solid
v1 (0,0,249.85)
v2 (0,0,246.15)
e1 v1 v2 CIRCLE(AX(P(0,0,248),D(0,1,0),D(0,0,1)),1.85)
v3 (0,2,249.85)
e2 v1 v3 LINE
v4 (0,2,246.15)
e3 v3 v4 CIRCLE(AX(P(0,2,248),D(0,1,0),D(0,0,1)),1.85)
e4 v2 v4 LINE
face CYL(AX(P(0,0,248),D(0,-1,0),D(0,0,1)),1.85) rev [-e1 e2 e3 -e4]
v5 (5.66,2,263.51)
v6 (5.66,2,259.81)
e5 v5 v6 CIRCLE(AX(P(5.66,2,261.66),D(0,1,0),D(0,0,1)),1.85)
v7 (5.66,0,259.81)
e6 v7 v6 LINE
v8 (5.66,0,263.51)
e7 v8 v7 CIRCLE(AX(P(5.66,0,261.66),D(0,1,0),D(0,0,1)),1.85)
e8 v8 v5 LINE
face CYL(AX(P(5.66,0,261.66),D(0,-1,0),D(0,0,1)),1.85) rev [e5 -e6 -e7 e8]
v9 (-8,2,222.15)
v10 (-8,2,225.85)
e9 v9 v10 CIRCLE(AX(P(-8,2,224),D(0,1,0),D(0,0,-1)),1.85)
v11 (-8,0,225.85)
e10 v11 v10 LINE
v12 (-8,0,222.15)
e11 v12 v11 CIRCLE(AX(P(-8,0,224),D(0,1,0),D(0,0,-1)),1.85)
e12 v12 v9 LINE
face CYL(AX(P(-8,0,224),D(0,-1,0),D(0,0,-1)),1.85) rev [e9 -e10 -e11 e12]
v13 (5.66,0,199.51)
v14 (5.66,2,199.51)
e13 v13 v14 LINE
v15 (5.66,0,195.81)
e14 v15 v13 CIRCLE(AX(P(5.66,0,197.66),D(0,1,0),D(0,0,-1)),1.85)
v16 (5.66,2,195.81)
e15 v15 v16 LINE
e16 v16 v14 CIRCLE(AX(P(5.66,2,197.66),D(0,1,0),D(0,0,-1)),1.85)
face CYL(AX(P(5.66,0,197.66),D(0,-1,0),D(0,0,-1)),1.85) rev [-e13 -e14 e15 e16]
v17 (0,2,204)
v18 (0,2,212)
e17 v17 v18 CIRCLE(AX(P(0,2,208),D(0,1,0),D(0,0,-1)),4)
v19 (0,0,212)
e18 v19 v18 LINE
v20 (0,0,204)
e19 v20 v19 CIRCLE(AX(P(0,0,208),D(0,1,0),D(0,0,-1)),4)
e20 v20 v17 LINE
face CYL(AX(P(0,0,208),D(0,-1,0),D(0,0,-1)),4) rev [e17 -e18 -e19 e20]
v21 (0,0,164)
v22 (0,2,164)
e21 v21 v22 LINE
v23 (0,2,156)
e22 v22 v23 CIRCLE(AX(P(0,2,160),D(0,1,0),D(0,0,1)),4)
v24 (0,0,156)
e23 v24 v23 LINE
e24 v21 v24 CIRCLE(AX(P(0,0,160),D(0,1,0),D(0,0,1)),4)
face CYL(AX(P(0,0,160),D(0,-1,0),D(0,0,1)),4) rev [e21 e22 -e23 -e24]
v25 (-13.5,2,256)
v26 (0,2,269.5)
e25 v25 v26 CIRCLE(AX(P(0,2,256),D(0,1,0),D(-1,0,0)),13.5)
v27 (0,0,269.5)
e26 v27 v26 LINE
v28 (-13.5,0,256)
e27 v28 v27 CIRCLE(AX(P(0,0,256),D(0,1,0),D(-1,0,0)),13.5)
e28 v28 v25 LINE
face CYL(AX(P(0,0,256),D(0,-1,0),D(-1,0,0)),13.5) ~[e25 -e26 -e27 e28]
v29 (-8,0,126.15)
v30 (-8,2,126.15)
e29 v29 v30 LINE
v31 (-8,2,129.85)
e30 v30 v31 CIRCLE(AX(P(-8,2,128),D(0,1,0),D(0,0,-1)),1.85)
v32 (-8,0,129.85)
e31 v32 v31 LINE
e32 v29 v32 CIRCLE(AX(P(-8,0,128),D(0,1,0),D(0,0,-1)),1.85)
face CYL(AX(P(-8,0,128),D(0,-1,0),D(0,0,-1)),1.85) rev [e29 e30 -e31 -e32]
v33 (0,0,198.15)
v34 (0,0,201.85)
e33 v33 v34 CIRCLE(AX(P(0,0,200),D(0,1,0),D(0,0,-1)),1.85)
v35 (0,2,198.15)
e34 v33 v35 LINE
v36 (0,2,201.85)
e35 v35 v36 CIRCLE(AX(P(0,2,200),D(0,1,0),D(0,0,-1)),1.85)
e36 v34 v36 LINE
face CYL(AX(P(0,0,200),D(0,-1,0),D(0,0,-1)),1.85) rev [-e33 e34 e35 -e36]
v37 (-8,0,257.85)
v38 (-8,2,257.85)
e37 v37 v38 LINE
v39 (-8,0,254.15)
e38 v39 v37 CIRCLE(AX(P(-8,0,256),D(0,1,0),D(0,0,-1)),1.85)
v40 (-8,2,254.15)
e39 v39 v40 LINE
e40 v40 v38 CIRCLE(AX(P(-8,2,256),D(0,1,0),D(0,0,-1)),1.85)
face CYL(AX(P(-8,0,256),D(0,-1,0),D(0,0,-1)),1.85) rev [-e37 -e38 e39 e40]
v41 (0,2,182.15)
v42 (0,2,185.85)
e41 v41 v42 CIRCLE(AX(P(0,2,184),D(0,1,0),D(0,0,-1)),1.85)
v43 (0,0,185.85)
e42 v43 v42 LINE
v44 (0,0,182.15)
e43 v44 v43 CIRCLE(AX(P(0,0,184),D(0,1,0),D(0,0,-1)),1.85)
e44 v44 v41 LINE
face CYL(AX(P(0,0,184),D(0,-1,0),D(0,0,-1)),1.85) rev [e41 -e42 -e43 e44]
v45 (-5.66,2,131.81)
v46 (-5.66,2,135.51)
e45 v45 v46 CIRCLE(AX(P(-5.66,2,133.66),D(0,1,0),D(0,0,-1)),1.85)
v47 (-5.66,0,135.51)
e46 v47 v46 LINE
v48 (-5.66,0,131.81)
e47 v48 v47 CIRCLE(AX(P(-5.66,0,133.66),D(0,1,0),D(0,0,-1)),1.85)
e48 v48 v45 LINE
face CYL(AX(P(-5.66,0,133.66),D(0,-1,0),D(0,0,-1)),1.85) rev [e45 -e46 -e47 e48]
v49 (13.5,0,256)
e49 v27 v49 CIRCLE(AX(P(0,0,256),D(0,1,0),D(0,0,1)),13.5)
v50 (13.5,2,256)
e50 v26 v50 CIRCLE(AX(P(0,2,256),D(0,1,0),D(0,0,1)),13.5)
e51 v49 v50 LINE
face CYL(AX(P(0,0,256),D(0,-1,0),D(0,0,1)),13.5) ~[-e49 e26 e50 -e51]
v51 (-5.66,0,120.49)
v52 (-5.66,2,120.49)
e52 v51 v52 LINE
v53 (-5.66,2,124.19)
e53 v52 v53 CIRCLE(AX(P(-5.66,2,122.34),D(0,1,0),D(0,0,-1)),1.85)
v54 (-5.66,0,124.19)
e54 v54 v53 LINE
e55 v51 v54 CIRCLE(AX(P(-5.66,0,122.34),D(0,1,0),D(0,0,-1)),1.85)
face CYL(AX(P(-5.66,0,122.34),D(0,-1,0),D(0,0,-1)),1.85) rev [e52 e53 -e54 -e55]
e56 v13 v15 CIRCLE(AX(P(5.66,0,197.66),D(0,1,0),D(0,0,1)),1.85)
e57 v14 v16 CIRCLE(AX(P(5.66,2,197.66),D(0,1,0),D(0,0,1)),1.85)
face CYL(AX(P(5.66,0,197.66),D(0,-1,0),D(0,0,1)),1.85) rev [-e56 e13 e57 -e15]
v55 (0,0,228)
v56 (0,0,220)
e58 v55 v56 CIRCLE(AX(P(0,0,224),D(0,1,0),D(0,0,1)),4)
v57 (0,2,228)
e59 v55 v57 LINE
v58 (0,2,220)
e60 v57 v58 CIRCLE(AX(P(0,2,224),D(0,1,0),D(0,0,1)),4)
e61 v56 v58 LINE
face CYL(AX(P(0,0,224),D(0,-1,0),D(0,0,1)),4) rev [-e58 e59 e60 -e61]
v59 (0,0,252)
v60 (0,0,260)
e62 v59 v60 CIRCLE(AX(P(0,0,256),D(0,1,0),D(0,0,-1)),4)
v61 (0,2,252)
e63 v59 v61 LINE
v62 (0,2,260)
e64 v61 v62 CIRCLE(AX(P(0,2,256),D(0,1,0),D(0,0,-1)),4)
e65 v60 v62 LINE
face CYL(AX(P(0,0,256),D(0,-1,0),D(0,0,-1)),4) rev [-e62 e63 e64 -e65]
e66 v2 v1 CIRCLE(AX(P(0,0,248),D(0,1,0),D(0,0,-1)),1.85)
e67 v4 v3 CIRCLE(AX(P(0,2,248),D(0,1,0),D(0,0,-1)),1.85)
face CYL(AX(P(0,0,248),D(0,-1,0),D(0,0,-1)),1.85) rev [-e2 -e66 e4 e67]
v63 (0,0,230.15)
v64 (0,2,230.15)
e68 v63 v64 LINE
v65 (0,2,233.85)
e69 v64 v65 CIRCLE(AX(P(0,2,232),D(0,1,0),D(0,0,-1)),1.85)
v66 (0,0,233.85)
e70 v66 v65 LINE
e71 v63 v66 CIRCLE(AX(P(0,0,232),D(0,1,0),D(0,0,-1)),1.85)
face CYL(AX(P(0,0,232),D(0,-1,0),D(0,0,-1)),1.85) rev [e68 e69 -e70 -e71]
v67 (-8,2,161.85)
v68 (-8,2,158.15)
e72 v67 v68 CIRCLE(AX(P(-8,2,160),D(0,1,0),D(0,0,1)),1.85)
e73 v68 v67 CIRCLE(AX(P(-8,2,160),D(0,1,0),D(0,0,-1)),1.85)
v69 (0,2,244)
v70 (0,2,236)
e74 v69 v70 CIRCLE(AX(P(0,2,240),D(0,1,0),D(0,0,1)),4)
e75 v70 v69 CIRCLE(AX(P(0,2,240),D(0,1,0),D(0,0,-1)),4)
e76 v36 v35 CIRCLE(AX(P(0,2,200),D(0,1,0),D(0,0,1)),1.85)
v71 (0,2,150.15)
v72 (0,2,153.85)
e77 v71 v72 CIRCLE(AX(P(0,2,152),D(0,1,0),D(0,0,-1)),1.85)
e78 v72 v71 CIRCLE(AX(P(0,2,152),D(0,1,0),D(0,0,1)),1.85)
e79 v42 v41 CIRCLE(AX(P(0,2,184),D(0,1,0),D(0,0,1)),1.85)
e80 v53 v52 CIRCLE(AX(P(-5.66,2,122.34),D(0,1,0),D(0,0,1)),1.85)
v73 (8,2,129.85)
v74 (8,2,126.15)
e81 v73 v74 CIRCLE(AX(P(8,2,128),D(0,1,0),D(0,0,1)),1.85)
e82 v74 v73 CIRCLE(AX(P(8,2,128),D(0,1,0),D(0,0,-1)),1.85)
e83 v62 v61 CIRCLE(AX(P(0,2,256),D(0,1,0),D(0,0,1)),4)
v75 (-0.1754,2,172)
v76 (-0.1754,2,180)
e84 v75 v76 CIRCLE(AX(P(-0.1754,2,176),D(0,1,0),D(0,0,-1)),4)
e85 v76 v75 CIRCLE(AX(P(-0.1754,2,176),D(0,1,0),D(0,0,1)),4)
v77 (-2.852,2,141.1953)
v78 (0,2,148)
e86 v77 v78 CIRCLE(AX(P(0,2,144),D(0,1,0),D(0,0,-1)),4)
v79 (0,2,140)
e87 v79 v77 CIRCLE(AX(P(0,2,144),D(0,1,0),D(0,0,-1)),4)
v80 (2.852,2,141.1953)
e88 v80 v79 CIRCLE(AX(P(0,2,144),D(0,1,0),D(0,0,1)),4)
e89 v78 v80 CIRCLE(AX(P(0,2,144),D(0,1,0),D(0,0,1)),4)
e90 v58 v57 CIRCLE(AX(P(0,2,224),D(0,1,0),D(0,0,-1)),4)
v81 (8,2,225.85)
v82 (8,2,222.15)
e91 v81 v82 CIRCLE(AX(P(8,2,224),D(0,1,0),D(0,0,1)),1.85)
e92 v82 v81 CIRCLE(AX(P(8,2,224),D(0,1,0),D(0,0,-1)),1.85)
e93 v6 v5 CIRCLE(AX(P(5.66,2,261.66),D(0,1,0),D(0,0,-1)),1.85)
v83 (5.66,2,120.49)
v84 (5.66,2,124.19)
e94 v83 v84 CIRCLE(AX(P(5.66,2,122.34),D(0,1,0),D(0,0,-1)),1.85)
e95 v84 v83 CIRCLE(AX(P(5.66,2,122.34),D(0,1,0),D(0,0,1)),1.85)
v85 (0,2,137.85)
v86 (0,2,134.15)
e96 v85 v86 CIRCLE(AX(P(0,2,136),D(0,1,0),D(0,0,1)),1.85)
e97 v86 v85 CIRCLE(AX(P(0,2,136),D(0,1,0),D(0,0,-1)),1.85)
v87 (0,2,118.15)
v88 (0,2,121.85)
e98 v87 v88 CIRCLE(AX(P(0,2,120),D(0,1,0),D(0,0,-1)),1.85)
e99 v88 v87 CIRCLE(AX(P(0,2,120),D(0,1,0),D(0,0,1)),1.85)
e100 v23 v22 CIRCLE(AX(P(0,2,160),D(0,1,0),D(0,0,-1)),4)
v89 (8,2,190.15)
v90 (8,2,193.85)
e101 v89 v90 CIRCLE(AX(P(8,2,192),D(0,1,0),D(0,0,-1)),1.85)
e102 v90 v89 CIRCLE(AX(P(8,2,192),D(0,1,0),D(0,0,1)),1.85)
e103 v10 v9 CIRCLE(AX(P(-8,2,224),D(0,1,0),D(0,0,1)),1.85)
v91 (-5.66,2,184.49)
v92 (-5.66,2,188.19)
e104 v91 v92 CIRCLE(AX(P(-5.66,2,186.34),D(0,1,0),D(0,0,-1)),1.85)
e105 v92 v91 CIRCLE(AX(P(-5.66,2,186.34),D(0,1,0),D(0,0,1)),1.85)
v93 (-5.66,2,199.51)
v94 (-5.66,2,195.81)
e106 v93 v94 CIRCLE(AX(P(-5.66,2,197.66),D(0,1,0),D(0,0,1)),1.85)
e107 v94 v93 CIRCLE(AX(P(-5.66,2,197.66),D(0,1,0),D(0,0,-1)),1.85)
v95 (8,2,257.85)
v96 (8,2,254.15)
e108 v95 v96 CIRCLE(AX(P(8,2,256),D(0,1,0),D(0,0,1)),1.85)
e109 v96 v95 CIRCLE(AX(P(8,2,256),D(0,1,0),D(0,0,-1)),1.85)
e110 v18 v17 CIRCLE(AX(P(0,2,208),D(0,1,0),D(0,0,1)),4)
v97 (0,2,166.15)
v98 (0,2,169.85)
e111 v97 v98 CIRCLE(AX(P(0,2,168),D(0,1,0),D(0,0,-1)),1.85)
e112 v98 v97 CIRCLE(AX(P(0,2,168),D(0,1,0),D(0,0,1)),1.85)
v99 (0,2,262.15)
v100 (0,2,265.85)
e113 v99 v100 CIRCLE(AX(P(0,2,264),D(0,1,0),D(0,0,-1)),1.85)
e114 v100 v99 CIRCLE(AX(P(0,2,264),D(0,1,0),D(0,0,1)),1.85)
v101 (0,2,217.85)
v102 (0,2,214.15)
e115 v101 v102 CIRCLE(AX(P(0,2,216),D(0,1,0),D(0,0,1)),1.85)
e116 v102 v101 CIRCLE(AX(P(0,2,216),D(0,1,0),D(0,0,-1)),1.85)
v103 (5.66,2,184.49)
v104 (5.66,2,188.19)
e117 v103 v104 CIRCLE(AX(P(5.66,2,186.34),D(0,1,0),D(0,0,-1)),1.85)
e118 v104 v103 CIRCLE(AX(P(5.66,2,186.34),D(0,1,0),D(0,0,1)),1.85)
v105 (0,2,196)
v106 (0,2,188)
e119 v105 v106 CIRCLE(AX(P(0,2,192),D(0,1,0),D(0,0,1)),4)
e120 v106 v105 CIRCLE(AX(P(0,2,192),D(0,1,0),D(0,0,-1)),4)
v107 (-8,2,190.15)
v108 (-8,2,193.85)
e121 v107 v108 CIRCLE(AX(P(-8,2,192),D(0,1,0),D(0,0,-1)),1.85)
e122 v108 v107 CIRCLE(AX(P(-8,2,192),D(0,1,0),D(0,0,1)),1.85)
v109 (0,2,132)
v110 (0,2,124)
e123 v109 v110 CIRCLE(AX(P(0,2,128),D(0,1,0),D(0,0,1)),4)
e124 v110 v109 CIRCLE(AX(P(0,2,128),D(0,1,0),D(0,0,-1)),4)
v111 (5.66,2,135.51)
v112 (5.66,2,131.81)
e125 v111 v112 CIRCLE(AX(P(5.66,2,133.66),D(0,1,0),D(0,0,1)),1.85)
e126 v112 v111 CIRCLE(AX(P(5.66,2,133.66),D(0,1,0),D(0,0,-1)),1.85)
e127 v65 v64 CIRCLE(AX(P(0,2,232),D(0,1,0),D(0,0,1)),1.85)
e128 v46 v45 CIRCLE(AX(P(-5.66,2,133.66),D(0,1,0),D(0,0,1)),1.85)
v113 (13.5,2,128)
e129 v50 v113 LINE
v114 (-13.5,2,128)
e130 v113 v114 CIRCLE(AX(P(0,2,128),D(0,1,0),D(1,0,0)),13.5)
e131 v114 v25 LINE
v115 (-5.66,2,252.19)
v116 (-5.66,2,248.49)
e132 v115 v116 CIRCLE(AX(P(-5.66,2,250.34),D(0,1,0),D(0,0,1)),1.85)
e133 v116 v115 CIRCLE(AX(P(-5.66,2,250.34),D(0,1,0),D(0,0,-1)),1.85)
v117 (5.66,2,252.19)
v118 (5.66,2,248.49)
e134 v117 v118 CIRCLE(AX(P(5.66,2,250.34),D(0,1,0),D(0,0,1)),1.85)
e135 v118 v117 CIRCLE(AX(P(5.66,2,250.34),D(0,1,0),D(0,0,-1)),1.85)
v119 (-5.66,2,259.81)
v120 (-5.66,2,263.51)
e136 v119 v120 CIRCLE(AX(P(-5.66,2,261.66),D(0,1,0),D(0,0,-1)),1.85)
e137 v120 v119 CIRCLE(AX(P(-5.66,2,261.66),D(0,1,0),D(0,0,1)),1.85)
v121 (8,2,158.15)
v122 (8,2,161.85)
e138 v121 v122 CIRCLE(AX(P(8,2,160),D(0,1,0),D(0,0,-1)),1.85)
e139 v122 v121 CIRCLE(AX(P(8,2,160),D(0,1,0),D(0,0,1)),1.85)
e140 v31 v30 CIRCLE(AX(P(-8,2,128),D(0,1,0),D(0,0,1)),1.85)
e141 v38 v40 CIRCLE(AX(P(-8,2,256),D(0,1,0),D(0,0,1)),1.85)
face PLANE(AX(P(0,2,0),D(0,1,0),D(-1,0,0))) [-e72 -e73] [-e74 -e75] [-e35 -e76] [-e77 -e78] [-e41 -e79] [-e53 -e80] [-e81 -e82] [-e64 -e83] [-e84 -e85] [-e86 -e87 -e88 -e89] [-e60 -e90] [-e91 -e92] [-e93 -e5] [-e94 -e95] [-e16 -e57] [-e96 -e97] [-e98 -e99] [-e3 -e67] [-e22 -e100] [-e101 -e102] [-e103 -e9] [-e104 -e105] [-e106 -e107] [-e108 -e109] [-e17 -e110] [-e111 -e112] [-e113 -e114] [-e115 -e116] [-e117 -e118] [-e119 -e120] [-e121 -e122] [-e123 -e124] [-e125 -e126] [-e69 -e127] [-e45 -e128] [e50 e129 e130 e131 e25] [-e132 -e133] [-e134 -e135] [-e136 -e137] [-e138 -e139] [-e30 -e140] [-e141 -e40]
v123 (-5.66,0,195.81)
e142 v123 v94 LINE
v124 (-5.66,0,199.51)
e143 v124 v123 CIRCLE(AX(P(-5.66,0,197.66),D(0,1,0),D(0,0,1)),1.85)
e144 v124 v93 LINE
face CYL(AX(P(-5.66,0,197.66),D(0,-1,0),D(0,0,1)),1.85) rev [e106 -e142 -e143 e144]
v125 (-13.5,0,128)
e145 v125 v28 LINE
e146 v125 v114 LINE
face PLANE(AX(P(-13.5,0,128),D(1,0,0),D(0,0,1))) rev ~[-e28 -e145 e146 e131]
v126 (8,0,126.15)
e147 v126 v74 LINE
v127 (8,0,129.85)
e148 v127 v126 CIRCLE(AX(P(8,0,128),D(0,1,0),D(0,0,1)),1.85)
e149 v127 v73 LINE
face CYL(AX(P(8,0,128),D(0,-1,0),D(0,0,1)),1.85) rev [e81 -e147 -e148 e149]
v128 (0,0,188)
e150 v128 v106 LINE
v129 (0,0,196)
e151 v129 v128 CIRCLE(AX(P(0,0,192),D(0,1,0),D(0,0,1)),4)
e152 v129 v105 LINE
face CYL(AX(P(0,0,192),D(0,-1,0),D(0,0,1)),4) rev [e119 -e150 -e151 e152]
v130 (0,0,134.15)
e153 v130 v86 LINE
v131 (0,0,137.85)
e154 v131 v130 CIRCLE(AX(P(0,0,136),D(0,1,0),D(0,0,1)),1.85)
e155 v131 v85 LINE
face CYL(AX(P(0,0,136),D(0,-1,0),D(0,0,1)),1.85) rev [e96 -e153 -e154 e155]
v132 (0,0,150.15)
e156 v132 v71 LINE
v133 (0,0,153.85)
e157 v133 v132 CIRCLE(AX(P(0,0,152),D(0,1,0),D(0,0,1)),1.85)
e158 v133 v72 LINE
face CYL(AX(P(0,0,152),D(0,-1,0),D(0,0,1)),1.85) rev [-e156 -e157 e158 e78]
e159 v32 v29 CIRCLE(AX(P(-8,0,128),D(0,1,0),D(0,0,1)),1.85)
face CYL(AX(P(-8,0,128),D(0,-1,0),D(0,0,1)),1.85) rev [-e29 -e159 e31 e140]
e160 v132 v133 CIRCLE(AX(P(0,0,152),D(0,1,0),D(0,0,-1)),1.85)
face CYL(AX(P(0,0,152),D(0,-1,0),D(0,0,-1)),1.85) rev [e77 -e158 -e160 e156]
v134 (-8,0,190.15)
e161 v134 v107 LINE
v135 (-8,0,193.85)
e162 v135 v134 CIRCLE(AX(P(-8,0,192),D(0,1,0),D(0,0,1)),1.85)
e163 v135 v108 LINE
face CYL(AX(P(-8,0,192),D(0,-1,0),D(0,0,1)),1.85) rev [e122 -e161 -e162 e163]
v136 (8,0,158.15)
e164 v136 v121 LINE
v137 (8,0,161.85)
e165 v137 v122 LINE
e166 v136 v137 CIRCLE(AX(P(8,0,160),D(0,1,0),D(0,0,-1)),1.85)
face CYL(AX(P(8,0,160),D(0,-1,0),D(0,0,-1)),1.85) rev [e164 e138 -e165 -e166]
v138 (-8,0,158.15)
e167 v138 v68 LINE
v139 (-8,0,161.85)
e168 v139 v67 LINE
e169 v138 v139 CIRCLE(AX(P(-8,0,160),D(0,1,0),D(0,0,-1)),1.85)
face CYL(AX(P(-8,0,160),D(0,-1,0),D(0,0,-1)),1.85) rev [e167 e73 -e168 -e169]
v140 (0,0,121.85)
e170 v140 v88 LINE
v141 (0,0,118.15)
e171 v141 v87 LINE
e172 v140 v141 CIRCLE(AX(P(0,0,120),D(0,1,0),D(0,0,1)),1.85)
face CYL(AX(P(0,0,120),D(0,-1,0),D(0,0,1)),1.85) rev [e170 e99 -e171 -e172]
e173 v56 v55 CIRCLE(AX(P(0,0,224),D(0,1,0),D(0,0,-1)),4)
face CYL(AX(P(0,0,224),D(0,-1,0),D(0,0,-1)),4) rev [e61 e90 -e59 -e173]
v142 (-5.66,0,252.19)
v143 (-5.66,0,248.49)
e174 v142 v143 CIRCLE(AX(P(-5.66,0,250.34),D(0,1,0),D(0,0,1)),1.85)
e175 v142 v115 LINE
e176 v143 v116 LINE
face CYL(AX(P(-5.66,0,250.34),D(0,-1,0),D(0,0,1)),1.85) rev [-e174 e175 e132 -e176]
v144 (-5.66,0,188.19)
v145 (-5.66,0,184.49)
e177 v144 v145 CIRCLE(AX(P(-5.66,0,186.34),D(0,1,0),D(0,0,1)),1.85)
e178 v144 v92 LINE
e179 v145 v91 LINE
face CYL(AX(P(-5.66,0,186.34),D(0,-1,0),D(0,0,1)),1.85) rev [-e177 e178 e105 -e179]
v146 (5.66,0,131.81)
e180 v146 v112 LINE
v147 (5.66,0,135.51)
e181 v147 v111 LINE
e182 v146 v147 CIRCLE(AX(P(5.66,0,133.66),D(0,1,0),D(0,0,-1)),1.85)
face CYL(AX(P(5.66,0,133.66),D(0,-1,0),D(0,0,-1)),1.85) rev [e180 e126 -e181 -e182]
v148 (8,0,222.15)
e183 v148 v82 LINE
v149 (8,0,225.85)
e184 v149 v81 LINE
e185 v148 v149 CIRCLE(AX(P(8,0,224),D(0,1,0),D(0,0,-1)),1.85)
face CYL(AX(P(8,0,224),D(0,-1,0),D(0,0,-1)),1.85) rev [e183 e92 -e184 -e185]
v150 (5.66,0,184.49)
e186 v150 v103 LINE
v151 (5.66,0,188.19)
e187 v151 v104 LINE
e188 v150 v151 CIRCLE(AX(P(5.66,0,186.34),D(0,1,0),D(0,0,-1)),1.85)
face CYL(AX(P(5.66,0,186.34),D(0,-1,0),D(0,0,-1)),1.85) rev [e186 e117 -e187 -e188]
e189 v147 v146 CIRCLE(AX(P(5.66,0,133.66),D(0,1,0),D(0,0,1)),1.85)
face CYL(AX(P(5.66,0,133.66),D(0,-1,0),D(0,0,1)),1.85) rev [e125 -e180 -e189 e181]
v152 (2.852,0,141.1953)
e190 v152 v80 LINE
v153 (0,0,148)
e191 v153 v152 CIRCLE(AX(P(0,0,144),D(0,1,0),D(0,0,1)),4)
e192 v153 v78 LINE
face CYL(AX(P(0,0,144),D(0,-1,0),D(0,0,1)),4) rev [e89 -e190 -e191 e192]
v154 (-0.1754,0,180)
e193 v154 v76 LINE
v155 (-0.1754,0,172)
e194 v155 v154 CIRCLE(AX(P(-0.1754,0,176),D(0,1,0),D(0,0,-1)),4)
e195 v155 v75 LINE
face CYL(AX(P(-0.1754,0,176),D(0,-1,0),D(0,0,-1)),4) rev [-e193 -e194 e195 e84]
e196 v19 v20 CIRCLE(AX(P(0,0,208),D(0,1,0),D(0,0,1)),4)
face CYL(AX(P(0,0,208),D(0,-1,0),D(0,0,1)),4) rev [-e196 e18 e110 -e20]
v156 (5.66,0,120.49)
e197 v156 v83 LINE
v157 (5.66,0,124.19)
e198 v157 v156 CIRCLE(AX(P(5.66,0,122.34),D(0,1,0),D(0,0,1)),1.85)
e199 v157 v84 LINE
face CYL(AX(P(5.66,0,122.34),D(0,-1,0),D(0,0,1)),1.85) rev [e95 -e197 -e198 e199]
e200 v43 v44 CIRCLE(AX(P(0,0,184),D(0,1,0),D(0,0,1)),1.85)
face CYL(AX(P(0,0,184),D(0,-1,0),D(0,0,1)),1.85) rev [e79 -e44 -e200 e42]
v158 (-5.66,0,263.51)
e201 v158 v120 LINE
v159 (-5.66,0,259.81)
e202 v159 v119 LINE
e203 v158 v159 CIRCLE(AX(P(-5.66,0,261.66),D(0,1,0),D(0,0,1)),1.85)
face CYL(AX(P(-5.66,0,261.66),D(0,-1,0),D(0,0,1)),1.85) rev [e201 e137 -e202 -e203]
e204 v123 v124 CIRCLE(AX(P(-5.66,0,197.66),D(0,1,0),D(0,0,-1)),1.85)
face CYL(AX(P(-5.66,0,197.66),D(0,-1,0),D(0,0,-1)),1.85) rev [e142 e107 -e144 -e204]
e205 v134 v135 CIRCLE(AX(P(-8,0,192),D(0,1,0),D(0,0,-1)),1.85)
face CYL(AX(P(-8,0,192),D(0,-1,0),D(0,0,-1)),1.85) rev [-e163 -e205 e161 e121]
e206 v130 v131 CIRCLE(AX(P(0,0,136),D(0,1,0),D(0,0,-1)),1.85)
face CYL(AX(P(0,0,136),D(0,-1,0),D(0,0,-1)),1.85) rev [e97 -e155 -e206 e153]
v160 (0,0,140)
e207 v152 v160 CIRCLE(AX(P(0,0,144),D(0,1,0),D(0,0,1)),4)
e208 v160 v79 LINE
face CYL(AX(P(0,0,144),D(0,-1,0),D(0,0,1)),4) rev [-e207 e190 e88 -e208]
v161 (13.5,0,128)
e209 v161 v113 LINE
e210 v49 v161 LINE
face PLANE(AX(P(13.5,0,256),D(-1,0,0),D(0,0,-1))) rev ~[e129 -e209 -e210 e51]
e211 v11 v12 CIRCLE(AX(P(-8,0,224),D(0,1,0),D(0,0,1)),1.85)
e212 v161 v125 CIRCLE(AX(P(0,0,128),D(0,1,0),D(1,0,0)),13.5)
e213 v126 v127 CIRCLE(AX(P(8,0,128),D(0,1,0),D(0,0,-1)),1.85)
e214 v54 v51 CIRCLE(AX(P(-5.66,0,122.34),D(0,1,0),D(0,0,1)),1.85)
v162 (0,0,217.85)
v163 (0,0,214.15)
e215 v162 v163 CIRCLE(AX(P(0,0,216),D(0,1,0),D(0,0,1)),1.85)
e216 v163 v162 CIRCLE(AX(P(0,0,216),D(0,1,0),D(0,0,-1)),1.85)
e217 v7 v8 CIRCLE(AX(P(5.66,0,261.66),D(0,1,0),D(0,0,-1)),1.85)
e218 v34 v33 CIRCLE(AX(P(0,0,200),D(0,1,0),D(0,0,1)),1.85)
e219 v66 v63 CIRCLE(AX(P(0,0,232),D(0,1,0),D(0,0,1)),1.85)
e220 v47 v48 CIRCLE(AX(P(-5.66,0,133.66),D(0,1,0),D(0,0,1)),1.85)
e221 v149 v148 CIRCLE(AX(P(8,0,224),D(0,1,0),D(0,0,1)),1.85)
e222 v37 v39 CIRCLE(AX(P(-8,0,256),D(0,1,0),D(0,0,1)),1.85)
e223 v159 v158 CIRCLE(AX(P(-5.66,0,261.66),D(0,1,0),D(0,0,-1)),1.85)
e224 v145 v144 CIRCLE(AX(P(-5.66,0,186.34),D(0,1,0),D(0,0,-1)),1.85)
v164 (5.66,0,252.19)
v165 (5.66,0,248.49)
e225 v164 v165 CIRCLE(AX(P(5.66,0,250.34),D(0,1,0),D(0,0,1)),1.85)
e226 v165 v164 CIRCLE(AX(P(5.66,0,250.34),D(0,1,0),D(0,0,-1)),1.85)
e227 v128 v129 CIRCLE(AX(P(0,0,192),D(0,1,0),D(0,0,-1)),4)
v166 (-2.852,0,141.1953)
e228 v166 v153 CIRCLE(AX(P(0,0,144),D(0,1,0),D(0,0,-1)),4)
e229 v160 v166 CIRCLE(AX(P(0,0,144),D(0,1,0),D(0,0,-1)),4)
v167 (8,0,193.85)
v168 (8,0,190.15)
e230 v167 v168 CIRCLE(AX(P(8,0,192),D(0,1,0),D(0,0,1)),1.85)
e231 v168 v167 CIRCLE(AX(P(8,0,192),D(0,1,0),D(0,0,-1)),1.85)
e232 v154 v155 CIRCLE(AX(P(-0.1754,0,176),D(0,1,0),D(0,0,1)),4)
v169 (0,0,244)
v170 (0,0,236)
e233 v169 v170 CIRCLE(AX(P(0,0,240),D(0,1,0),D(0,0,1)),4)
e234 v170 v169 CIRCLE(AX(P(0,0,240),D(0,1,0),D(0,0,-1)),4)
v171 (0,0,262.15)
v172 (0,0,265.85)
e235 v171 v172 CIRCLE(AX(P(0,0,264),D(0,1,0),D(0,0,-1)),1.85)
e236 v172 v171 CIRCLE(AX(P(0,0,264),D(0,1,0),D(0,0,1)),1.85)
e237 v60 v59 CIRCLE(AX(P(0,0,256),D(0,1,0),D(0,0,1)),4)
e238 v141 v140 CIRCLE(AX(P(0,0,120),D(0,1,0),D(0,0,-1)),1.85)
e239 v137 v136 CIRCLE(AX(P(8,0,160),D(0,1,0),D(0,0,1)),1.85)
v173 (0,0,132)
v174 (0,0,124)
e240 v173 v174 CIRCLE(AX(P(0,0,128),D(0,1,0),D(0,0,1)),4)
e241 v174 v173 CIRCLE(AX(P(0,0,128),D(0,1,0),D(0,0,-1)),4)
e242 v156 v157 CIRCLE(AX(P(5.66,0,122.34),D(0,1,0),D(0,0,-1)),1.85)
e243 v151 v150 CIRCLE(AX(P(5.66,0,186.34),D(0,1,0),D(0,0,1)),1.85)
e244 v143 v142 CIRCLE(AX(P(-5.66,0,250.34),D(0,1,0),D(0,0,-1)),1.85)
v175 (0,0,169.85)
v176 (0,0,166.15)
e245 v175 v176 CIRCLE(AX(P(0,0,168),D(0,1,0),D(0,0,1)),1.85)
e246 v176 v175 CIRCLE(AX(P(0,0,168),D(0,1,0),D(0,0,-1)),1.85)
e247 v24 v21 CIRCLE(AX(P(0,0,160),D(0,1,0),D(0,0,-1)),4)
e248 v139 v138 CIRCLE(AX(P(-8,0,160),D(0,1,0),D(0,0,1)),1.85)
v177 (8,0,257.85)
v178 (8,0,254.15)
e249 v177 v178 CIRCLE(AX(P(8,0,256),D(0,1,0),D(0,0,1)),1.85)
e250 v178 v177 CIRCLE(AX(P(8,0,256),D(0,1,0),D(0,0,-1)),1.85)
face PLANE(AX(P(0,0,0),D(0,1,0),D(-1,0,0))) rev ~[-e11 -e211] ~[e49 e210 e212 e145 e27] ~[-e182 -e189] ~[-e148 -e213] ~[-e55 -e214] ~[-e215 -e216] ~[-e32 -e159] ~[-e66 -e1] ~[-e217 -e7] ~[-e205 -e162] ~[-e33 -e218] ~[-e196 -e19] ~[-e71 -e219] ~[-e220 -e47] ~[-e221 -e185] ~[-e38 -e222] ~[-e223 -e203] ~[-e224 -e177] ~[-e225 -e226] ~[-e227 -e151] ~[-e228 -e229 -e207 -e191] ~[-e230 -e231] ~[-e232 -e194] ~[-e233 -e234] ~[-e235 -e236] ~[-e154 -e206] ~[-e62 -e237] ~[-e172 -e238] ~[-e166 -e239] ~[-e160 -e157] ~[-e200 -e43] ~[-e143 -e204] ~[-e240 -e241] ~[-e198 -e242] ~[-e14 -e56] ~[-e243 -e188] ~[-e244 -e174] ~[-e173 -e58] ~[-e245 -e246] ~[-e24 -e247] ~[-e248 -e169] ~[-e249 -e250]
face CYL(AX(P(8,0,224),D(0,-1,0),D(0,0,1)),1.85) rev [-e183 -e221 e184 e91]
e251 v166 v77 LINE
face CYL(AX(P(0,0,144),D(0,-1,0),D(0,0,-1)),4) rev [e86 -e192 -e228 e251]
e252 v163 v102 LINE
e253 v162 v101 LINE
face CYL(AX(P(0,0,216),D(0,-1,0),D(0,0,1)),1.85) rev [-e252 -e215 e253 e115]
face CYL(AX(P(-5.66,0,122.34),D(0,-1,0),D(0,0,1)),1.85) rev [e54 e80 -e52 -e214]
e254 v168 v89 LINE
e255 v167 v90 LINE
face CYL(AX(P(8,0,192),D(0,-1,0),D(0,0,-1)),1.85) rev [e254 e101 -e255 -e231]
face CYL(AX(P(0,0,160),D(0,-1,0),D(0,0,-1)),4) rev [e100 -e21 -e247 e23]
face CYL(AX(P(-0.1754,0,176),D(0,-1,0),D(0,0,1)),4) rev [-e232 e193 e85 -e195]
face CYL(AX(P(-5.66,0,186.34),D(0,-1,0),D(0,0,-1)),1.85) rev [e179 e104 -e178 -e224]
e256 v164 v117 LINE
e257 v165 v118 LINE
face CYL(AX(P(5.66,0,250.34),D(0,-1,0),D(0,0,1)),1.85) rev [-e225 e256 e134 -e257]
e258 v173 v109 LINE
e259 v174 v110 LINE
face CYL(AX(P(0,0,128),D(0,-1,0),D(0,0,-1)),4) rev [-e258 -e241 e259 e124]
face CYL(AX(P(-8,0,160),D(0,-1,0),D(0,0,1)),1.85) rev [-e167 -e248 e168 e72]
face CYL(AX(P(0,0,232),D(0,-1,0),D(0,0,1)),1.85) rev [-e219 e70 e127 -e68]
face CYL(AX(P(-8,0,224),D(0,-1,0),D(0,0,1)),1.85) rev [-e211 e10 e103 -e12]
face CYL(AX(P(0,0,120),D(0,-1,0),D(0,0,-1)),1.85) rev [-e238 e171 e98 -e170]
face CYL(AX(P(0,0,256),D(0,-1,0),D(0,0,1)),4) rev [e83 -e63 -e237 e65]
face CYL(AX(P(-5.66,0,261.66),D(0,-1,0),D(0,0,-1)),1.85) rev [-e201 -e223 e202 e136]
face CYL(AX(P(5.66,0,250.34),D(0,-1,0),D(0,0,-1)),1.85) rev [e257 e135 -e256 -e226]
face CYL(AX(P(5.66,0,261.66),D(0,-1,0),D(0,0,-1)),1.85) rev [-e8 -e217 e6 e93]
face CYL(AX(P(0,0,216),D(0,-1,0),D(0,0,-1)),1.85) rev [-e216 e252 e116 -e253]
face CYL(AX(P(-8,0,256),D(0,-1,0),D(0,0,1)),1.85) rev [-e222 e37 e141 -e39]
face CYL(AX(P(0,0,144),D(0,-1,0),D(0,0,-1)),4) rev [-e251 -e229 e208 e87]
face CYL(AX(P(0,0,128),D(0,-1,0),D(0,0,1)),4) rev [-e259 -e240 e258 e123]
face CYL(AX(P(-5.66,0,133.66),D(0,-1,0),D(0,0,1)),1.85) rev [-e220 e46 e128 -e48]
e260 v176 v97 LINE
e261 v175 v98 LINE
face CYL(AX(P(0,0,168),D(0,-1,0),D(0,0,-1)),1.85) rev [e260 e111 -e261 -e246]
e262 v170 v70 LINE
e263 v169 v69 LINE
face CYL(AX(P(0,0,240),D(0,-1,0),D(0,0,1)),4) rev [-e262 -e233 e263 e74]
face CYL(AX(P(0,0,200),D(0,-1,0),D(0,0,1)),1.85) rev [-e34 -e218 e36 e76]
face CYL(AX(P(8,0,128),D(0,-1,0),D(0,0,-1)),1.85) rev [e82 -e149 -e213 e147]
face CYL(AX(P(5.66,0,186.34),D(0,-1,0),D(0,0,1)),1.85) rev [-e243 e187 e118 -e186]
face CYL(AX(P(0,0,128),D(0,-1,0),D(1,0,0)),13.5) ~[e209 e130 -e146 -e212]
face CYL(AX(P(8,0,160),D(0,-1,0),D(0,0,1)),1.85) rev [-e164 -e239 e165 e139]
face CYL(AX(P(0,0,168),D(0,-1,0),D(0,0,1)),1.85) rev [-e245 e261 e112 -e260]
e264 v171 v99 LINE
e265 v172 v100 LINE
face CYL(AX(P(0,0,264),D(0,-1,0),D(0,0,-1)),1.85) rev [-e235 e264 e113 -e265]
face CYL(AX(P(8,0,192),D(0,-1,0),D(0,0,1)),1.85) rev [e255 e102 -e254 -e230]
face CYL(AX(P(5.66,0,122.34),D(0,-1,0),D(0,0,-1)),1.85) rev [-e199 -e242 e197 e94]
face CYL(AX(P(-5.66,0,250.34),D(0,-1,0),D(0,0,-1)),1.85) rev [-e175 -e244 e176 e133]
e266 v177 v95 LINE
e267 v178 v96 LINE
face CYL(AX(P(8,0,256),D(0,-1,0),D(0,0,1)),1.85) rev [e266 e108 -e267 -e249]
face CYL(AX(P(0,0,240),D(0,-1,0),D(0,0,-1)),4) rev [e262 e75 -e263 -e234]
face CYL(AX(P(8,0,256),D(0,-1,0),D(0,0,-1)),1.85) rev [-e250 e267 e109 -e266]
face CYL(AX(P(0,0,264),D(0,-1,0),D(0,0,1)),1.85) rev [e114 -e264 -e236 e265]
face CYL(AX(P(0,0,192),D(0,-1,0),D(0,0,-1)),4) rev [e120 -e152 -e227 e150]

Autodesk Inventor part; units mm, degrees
ref_plane "YZ Plane" through (0, 0, 0) normal (1, 0, 0) x (0, 1, 0)
ref_plane "XZ Plane" through (0, 0, 0) normal (0, 1, 0) x (-1, 0, 0)
ref_plane "XY Plane" through (0, 0, 0) normal (0, 0, 1) x (1, 0, 0)
sketch "Sketch1" plane through (0, 0, 0) normal (0, 1, 0) x (-1, 0, 0)
  arc A0 (-5.66, 120.49) -> (-5.66, 124.19) centre (-5.66, 122.34) ccw
  arc A1 (-5.66, 124.19) -> (-5.66, 120.49) centre (-5.66, 122.34) ccw
  arc A2 (5.66, 120.49) -> (5.66, 124.19) centre (5.66, 122.34) ccw
  arc A3 (5.66, 124.19) -> (5.66, 120.49) centre (5.66, 122.34) ccw
  arc A4 (0, 134.15) -> (0, 137.85) centre (0, 136) ccw
  arc A5 (0, 137.85) -> (0, 134.15) centre (0, 136) ccw
  arc A6 (-5.66, 131.81) -> (-5.66, 135.51) centre (-5.66, 133.66) ccw
  arc A7 (-5.66, 135.51) -> (-5.66, 131.81) centre (-5.66, 133.66) ccw
  arc A8 (5.66, 131.81) -> (5.66, 135.51) centre (5.66, 133.66) ccw
  arc A9 (5.66, 135.51) -> (5.66, 131.81) centre (5.66, 133.66) ccw
  arc A10 (8, 126.15) -> (8, 129.85) centre (8, 128) ccw
  arc A11 (8, 129.85) -> (8, 126.15) centre (8, 128) ccw
  arc A12 (0, 124) -> (0, 132) centre (0, 128) ccw
  arc A13 (0, 132) -> (0, 124) centre (0, 128) ccw
  arc A14 (-8, 126.15) -> (-8, 129.85) centre (-8, 128) ccw
  arc A15 (-8, 129.85) -> (-8, 126.15) centre (-8, 128) ccw
  arc A16 (0, 118.15) -> (0, 121.85) centre (0, 120) ccw
  arc A17 (0, 121.85) -> (0, 118.15) centre (0, 120) ccw
  arc A18 (-5.66, 195.81) -> (-5.66, 199.51) centre (-5.66, 197.66) ccw
  arc A19 (-5.66, 199.51) -> (-5.66, 195.81) centre (-5.66, 197.66) ccw
  arc A20 (-5.66, 184.49) -> (-5.66, 188.19) centre (-5.66, 186.34) ccw
  arc A21 (-5.66, 188.19) -> (-5.66, 184.49) centre (-5.66, 186.34) ccw
  arc A22 (5.66, 184.49) -> (5.66, 188.19) centre (5.66, 186.34) ccw
  arc A23 (5.66, 188.19) -> (5.66, 184.49) centre (5.66, 186.34) ccw
  arc A24 (5.66, 195.81) -> (5.66, 199.51) centre (5.66, 197.66) ccw
  arc A25 (5.66, 199.51) -> (5.66, 195.81) centre (5.66, 197.66) ccw
  arc A26 (8, 190.15) -> (8, 193.85) centre (8, 192) ccw
  arc A27 (8, 193.85) -> (8, 190.15) centre (8, 192) ccw
  arc A28 (-8, 190.15) -> (-8, 193.85) centre (-8, 192) ccw
  arc A29 (-8, 193.85) -> (-8, 190.15) centre (-8, 192) ccw
  arc A30 (0, 198.15) -> (0, 201.85) centre (0, 200) ccw
  arc A31 (0, 201.85) -> (0, 198.15) centre (0, 200) ccw
  arc A32 (0, 182.15) -> (0, 185.85) centre (0, 184) ccw
  arc A33 (0, 185.85) -> (0, 182.15) centre (0, 184) ccw
  arc A34 (0, 188) -> (0, 196) centre (0, 192) ccw
  arc A35 (0, 196) -> (0, 188) centre (0, 192) ccw
  arc A36 (8, 158.15) -> (8, 161.85) centre (8, 160) ccw
  arc A37 (8, 161.85) -> (8, 158.15) centre (8, 160) ccw
  arc A38 (-8, 158.15) -> (-8, 161.85) centre (-8, 160) ccw
  arc A39 (-8, 161.85) -> (-8, 158.15) centre (-8, 160) ccw
  arc A40 (0, 166.15) -> (0, 169.85) centre (0, 168) ccw
  arc A41 (0, 169.85) -> (0, 166.15) centre (0, 168) ccw
  arc A42 (0, 150.15) -> (0, 153.85) centre (0, 152) ccw
  arc A43 (0, 153.85) -> (0, 150.15) centre (0, 152) ccw
  arc A44 (0, 156) -> (0, 164) centre (0, 160) ccw
  arc A45 (0, 164) -> (0, 156) centre (0, 160) ccw
  arc A46 (-5.66, 248.49) -> (-5.66, 252.19) centre (-5.66, 250.34) ccw
  arc A47 (-5.66, 252.19) -> (-5.66, 248.49) centre (-5.66, 250.34) ccw
  arc A48 (5.66, 248.49) -> (5.66, 252.19) centre (5.66, 250.34) ccw
  arc A49 (5.66, 252.19) -> (5.66, 248.49) centre (5.66, 250.34) ccw
  arc A50 (0, 262.15) -> (0, 265.85) centre (0, 264) ccw
  arc A51 (0, 265.85) -> (0, 262.15) centre (0, 264) ccw
  arc A52 (-5.66, 259.81) -> (-5.66, 263.51) centre (-5.66, 261.66) ccw
  arc A53 (-5.66, 263.51) -> (-5.66, 259.81) centre (-5.66, 261.66) ccw
  arc A54 (5.66, 259.81) -> (5.66, 263.51) centre (5.66, 261.66) ccw
  arc A55 (5.66, 263.51) -> (5.66, 259.81) centre (5.66, 261.66) ccw
  arc A56 (8, 254.15) -> (8, 257.85) centre (8, 256) ccw
  arc A57 (8, 257.85) -> (8, 254.15) centre (8, 256) ccw
  arc A58 (0, 252) -> (0, 260) centre (0, 256) ccw
  arc A59 (0, 260) -> (0, 252) centre (0, 256) ccw
  arc A60 (8, 222.15) -> (8, 225.85) centre (8, 224) ccw
  arc A61 (8, 225.85) -> (8, 222.15) centre (8, 224) ccw
  arc A62 (-8, 222.15) -> (-8, 225.85) centre (-8, 224) ccw
  arc A63 (-8, 225.85) -> (-8, 222.15) centre (-8, 224) ccw
  arc A64 (0, 230.15) -> (0, 233.85) centre (0, 232) ccw
  arc A65 (0, 233.85) -> (0, 230.15) centre (0, 232) ccw
  arc A66 (0, 214.15) -> (0, 217.85) centre (0, 216) ccw
  arc A67 (0, 217.85) -> (0, 214.15) centre (0, 216) ccw
  arc A68 (0, 220) -> (0, 228) centre (0, 224) ccw
  arc A69 (0, 228) -> (0, 220) centre (0, 224) ccw
  arc A70 (0, 140) -> (0, 148) centre (0, 144) ccw
  arc A71 (0, 148) -> (0, 140) centre (0, 144) ccw
  arc A72 (0.1754, 172) -> (0.1754, 180) centre (0.1754, 176) ccw
  arc A73 (0.1754, 180) -> (0.1754, 172) centre (0.1754, 176) ccw
  arc A74 (0, 204) -> (0, 212) centre (0, 208) ccw
  arc A75 (0, 212) -> (0, 204) centre (0, 208) ccw
  arc A76 (0, 236) -> (0, 244) centre (0, 240) ccw
  arc A77 (0, 244) -> (0, 236) centre (0, 240) ccw
  arc A78 (-8, 254.15) -> (-8, 257.85) centre (-8, 256) ccw
  arc A79 (-8, 257.85) -> (-8, 254.15) centre (-8, 256) ccw
  arc A80 (0, 246.15) -> (0, 249.85) centre (0, 248) ccw
  arc A81 (0, 249.85) -> (0, 246.15) centre (0, 248) ccw
  arc A82 (13.5, 256) -> (0, 269.5) centre (0, 256) ccw
  arc A83 (0, 269.5) -> (-13.5, 256) centre (0, 256) ccw
  line L0 (-13.5, 256) -> (-13.5, 128)
  line L1 (13.5, 128) -> (13.5, 256)
  arc A84 (2.852, 141.1953) -> (-2.852, 141.1953) centre (0, 128) ccw
  arc A85 (-13.5, 128) -> (13.5, 128) centre (0, 128) ccw
  point P0 (0, 0)
  point P1 (0, 128)
extrude "Extrusion1" add sketch "Sketch1" along normal blind 2
properties part number "Tetrix Flat bar 160 mm"
